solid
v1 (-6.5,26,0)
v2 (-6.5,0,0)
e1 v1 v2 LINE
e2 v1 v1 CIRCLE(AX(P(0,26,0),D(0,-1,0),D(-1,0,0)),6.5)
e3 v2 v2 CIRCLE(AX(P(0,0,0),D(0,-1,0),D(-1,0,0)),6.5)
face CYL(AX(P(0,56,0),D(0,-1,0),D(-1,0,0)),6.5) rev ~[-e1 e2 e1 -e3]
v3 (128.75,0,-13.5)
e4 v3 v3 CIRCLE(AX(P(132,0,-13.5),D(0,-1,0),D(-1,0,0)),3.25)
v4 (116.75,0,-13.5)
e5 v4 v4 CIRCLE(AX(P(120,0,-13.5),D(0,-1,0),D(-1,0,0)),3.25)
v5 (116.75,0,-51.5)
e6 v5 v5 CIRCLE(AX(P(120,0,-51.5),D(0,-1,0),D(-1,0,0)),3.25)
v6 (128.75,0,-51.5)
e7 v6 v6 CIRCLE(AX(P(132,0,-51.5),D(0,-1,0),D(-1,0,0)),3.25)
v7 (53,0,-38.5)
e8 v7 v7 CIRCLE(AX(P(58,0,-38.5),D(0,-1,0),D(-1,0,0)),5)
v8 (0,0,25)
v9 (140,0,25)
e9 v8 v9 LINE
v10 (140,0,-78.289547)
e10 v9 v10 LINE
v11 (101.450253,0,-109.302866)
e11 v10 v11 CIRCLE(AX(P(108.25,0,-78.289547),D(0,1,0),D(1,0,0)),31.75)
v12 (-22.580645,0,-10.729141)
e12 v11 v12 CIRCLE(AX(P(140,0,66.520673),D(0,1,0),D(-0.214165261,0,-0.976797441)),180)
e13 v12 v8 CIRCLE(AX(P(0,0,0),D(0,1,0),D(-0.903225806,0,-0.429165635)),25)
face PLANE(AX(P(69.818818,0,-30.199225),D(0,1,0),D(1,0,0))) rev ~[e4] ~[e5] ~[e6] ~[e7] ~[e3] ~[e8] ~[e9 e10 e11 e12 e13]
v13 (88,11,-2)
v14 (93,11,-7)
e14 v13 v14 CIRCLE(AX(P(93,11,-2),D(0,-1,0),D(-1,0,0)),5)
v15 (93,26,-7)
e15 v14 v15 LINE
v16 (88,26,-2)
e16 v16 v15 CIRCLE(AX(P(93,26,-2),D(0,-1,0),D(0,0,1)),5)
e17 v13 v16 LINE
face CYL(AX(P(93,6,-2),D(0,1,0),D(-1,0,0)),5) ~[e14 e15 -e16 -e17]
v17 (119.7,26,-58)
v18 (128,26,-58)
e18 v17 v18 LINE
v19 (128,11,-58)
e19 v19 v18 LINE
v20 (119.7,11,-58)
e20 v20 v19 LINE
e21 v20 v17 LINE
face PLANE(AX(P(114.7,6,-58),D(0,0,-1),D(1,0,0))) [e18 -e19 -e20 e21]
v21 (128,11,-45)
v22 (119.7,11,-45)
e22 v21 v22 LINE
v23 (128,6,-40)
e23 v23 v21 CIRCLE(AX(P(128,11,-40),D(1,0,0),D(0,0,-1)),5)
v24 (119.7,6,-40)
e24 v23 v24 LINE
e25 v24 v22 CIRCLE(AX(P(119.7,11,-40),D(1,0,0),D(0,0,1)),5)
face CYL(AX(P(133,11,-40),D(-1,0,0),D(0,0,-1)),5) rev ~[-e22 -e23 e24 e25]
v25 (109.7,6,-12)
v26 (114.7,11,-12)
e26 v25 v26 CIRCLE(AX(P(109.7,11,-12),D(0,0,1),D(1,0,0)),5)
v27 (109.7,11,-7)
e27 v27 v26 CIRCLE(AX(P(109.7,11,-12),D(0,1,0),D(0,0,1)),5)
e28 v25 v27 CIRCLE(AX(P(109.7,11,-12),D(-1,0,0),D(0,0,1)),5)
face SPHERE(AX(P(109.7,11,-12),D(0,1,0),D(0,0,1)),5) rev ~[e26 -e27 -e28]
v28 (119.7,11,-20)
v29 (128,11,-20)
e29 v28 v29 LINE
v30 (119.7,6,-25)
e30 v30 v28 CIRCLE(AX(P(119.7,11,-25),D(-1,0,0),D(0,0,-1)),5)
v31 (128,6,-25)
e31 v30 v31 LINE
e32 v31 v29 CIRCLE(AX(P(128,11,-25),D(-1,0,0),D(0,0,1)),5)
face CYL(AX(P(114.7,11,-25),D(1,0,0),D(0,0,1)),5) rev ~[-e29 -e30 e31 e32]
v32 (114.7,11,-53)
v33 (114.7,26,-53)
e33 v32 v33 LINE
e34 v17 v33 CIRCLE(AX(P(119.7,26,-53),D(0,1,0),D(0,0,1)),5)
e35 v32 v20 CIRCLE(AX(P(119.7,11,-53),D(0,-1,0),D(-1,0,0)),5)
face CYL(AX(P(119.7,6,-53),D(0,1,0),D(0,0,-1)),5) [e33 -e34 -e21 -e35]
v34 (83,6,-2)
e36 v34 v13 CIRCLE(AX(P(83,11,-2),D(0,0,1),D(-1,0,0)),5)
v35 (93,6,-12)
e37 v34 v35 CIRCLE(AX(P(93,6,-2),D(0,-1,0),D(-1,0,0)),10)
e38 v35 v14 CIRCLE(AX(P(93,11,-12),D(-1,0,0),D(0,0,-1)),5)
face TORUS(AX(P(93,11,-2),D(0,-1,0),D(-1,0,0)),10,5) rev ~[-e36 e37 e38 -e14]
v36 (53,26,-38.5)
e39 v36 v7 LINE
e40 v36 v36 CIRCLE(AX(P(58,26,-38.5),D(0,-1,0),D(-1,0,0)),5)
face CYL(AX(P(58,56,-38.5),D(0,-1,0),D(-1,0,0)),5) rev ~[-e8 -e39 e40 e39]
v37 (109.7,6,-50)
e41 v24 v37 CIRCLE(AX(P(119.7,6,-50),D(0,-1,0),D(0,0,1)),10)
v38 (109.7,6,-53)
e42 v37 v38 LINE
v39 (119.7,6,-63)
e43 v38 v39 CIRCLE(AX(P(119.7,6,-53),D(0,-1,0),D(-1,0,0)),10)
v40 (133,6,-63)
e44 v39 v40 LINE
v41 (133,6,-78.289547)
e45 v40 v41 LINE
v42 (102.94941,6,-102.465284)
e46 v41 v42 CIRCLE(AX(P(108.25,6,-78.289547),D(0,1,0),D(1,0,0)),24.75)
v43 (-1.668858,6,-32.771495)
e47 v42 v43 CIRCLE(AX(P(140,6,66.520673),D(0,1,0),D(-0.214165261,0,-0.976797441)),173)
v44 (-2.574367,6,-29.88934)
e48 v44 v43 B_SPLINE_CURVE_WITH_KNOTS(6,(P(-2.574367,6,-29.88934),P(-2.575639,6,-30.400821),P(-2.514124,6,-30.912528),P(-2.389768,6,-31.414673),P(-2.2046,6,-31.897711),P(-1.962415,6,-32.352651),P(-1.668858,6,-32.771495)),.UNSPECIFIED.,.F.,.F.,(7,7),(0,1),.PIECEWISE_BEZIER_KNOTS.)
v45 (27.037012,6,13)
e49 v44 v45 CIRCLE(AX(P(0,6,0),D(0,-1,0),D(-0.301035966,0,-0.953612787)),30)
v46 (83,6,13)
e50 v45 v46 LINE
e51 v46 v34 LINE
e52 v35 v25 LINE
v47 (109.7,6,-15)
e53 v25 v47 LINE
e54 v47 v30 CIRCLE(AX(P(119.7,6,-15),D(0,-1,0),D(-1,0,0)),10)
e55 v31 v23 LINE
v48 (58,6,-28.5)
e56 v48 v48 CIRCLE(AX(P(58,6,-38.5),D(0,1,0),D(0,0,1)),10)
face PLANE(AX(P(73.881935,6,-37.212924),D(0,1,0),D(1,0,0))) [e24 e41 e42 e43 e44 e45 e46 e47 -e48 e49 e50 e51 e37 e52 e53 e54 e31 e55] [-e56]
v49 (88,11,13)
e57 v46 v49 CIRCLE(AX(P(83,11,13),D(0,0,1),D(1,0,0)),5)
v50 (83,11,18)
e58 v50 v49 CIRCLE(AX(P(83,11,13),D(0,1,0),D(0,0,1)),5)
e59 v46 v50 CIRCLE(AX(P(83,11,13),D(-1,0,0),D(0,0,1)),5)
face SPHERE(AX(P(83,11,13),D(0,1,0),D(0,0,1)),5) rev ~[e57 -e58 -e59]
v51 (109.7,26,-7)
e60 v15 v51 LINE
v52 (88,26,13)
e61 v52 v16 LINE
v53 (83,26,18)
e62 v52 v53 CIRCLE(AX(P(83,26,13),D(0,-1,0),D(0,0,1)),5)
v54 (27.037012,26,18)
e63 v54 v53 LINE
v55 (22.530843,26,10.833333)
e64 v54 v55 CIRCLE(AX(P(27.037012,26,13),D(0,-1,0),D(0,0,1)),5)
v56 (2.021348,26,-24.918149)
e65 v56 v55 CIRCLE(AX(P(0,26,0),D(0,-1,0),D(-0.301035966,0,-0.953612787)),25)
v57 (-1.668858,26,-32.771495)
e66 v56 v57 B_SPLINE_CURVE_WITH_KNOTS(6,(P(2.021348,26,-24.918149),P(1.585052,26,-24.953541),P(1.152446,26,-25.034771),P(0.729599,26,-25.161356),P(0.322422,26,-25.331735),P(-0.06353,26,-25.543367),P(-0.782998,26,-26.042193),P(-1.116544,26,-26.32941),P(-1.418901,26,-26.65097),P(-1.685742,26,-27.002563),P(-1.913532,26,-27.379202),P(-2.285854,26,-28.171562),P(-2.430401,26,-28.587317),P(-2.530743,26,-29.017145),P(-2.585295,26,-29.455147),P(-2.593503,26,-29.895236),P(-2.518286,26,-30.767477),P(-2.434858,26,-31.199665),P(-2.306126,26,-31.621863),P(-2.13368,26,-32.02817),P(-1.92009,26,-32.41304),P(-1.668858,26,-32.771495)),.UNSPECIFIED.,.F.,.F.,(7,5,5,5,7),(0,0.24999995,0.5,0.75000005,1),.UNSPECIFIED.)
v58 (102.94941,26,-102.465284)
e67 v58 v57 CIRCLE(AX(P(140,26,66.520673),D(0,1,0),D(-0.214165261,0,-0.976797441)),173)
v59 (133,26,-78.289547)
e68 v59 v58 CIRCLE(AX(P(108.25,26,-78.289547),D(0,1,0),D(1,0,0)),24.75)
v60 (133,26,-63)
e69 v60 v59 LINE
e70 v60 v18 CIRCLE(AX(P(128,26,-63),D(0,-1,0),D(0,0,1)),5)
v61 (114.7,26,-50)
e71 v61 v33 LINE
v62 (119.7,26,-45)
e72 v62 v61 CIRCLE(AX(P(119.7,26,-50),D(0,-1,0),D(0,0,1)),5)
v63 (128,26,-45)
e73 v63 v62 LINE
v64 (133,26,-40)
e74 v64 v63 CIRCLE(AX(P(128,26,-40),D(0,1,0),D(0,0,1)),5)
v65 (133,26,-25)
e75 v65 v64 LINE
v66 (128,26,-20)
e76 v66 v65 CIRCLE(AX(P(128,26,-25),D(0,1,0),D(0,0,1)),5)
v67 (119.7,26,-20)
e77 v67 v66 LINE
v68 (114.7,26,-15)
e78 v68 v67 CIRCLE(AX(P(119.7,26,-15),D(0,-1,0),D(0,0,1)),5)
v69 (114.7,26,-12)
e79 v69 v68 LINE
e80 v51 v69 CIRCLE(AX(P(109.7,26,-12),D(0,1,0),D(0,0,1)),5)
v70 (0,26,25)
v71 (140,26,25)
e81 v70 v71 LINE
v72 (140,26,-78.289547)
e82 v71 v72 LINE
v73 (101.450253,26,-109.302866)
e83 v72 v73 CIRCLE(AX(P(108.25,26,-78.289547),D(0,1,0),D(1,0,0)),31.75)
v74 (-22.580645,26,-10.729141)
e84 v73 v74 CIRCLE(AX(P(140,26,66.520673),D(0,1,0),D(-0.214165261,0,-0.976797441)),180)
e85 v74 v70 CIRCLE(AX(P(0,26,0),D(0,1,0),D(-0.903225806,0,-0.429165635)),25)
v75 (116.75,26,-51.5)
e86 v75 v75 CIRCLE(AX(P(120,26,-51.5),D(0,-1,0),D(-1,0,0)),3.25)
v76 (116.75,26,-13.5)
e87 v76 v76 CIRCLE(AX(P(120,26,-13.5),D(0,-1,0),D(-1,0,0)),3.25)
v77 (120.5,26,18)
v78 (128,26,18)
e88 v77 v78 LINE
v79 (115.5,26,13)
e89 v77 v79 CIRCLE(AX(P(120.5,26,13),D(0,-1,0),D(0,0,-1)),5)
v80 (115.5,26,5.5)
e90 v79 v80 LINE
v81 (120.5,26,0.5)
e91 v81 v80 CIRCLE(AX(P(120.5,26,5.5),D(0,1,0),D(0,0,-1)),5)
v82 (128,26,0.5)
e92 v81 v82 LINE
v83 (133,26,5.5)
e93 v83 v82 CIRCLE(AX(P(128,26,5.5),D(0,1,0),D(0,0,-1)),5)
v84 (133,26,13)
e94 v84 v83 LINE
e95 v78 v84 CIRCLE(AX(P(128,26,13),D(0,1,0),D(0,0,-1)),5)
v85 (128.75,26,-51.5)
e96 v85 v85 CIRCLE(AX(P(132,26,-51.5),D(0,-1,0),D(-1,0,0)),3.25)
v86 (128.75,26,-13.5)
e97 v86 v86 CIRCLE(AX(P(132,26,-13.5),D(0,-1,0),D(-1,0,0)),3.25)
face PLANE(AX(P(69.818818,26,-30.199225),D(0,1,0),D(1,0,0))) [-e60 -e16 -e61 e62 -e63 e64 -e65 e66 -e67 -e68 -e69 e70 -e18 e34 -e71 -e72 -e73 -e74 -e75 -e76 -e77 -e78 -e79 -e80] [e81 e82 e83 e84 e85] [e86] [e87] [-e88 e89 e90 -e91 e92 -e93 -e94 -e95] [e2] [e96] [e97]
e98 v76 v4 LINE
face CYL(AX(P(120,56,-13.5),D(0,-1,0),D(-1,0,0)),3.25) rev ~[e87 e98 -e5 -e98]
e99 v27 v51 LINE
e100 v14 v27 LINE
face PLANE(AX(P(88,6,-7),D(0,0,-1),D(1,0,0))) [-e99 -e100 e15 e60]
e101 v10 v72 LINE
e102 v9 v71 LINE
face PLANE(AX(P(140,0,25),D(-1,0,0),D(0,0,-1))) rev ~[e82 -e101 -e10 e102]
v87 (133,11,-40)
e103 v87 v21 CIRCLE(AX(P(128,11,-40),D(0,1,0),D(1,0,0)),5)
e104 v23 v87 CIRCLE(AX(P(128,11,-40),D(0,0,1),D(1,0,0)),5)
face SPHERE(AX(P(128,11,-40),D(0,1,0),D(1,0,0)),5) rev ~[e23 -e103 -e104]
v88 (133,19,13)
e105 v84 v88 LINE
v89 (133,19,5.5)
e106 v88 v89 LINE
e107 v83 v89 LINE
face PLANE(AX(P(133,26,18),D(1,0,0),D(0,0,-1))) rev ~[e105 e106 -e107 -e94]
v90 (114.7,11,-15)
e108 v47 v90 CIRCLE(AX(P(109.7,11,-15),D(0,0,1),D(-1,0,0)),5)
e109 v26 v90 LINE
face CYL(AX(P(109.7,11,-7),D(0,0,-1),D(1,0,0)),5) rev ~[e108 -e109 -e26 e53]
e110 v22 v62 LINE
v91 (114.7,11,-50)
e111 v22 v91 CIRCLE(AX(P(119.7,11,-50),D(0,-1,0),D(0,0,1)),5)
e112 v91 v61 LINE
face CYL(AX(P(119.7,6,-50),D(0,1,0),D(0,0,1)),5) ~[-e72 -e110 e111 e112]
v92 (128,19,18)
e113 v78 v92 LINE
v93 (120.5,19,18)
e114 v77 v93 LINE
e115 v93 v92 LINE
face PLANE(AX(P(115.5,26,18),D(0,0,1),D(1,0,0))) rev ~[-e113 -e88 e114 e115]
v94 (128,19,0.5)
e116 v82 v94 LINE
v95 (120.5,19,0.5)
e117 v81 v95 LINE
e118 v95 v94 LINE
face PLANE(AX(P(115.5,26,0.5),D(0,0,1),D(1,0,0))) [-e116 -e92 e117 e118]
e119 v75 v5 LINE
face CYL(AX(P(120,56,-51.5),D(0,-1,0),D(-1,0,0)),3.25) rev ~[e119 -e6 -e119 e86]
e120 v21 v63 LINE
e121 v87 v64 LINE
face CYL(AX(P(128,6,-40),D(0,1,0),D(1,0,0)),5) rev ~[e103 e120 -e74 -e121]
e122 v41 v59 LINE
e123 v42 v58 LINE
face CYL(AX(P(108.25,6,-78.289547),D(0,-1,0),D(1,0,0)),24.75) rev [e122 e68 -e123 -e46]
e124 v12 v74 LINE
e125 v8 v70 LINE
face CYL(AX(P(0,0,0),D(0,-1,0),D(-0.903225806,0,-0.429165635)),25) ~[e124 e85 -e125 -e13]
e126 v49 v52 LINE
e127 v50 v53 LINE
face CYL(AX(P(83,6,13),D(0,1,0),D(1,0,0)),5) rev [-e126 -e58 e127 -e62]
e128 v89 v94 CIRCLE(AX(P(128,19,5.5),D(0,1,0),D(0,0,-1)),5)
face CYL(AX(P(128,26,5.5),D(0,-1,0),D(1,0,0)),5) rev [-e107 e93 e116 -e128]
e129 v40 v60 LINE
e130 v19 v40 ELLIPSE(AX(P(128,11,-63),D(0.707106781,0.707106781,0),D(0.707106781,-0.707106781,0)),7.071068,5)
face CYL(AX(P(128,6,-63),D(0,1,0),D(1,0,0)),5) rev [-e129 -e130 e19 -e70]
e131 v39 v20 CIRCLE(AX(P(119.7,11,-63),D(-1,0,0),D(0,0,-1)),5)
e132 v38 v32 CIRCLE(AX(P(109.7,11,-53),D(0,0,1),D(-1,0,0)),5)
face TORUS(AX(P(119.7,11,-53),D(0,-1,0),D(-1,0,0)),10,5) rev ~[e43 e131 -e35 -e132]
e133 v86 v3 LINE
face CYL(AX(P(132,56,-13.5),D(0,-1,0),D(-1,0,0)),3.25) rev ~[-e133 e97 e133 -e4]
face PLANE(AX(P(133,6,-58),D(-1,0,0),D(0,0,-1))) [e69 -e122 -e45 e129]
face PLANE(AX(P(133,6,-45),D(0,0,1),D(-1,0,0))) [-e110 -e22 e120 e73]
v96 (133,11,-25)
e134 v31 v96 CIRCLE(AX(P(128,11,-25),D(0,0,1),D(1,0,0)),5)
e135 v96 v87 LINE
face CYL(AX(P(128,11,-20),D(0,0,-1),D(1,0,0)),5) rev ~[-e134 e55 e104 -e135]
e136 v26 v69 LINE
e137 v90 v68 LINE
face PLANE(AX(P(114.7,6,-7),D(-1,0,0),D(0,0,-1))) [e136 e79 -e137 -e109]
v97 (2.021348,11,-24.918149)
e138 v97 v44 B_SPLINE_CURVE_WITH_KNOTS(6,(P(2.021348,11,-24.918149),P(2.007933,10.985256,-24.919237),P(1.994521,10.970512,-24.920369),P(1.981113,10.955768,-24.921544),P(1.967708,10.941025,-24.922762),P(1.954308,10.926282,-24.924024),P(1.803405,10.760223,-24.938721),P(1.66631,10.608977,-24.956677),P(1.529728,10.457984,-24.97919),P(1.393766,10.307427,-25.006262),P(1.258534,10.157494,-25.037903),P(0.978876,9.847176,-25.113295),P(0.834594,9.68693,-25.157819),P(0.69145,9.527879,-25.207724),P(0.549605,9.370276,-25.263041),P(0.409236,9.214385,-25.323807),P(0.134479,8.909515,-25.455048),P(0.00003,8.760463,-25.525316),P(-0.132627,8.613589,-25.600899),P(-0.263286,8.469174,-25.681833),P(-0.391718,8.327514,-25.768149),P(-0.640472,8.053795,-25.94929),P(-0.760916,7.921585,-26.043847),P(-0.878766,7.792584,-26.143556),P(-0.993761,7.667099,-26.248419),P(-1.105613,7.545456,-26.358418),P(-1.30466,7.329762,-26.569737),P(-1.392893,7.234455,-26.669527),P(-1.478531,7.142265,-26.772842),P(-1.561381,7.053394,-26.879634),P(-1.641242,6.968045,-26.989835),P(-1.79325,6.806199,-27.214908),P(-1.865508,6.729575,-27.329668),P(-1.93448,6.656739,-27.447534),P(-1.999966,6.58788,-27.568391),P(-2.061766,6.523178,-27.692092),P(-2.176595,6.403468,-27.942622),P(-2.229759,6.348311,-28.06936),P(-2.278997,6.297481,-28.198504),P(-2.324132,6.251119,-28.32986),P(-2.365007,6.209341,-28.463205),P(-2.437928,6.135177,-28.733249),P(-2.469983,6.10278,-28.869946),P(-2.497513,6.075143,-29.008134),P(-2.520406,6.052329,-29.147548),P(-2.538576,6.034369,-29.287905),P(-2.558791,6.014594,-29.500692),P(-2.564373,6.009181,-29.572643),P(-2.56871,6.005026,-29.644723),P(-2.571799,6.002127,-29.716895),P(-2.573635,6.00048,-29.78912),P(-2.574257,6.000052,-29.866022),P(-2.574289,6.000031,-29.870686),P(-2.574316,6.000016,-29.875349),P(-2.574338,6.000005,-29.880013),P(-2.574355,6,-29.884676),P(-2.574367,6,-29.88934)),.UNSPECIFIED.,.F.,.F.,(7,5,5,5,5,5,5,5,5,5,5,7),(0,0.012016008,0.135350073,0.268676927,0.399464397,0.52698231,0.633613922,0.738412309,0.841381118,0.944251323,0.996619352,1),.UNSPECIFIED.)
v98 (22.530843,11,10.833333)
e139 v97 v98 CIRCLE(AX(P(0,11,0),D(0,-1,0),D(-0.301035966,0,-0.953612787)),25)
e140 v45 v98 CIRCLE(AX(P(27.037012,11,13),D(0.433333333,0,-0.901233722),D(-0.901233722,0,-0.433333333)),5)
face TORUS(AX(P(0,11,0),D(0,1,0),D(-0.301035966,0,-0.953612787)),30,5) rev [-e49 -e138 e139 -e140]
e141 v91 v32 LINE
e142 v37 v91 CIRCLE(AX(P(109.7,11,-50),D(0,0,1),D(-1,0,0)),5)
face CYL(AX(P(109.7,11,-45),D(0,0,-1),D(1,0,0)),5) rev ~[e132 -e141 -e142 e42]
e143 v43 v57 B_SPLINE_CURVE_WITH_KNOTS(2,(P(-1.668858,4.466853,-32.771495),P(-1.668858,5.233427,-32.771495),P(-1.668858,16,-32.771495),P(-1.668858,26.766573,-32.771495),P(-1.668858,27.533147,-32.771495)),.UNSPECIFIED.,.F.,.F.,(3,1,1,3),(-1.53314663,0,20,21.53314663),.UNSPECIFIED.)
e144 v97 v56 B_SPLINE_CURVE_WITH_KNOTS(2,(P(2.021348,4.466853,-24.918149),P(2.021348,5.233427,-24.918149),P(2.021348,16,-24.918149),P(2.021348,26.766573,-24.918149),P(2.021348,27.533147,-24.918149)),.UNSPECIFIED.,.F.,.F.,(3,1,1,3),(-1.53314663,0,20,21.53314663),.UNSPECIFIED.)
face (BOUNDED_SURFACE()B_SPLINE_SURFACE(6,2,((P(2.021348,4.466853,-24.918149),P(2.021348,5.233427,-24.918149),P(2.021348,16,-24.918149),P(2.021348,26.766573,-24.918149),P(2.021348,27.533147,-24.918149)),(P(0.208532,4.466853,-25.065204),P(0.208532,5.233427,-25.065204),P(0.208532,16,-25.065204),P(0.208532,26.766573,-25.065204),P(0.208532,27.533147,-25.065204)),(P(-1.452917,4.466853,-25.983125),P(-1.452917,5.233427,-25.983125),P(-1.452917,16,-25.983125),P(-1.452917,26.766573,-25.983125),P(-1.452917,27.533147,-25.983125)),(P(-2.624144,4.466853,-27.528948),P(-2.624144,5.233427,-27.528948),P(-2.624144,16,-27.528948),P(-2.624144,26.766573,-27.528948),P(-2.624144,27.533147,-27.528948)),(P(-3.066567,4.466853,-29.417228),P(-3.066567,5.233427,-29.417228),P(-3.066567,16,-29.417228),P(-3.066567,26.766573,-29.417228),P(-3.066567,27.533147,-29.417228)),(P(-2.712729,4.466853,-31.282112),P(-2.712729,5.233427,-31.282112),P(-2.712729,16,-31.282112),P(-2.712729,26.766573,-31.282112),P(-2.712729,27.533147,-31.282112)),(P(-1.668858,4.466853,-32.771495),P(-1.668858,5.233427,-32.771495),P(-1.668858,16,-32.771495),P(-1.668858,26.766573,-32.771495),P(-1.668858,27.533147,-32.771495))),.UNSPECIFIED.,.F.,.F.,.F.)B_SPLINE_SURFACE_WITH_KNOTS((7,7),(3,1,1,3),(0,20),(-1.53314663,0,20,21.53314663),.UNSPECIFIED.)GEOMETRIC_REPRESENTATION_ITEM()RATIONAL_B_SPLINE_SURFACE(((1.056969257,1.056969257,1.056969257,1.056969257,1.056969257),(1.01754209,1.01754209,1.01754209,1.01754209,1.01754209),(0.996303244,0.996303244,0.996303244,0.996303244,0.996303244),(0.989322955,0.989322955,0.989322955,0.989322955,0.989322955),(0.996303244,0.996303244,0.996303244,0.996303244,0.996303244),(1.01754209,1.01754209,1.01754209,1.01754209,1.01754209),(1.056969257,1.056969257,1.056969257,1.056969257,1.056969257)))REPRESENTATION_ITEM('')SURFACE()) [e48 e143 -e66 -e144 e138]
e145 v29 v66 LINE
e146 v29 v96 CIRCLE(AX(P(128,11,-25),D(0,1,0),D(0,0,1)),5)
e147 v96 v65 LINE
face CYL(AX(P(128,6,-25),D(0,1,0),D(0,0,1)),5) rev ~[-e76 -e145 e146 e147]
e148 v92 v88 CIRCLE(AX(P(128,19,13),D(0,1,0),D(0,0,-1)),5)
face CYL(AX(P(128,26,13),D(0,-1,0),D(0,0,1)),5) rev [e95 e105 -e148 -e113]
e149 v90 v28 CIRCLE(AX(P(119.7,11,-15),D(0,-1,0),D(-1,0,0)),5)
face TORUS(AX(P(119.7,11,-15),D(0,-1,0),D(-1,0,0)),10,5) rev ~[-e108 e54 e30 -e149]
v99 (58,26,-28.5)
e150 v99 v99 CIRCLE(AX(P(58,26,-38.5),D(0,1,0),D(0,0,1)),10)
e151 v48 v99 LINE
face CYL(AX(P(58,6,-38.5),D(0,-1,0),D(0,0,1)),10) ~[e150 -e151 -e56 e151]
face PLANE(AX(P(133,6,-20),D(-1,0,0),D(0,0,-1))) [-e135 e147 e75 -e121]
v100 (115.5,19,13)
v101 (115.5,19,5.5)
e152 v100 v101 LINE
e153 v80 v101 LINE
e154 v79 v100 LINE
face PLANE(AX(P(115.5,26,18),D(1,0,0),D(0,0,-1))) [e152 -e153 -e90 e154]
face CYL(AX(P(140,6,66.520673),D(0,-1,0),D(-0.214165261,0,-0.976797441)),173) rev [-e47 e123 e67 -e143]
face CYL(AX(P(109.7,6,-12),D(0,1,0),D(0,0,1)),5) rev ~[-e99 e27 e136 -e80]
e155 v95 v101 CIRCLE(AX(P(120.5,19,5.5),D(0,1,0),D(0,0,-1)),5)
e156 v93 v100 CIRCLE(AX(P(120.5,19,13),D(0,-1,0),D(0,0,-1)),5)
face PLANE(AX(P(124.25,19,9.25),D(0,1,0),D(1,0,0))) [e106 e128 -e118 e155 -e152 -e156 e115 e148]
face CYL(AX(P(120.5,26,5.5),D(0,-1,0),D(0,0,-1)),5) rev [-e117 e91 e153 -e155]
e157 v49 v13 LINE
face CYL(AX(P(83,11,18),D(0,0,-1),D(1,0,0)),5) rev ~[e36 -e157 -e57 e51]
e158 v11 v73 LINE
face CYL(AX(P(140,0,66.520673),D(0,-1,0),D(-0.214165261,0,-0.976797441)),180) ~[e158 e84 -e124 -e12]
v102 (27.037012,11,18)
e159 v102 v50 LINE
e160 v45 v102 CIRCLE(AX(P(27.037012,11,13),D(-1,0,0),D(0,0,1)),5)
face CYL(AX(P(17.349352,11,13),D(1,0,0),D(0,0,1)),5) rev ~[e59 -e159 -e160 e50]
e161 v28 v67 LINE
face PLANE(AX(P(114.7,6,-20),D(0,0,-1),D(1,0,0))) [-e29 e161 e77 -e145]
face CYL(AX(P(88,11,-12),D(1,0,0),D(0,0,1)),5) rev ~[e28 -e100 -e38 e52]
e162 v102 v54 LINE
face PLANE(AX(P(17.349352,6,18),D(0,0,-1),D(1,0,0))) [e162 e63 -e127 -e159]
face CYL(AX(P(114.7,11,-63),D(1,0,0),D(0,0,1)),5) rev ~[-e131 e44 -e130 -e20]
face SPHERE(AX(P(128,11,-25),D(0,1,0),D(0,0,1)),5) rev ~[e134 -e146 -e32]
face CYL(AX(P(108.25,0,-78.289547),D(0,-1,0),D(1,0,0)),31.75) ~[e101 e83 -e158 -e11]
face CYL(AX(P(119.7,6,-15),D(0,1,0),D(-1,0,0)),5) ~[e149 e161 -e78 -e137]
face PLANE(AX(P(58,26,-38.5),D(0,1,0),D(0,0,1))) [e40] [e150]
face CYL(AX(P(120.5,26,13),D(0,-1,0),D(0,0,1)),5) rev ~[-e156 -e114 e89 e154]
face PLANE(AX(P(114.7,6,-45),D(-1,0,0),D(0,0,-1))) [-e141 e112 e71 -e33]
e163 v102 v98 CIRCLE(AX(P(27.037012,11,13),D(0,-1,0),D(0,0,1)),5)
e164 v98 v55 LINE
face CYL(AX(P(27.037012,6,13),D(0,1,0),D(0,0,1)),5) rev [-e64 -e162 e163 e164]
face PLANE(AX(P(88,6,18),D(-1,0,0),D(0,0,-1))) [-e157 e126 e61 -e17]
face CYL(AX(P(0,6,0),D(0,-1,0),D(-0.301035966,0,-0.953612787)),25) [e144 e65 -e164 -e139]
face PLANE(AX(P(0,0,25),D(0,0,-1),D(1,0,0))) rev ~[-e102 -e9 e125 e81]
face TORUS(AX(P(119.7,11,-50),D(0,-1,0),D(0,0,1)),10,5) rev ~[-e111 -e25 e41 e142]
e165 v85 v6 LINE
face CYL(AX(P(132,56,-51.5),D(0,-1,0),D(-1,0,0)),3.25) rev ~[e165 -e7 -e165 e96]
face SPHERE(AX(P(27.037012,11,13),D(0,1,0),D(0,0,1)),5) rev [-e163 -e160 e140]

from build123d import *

# Parameters (mm, degrees)
BOSS_EXTRUDE1_DEPTH = 26
CUT_EXTRUDE1_START  = -20
CUT_EXTRUDE1_DEPTH  = 20
SKETCH3_W           = 17.5
SKETCH3_H           = 17.5
CUT_EXTRUDE2_DEPTH  = 7
FILLET1_R           = 5
HOLE1_D             = 13
HOLE1_DEPTH         = 30
HOLE2_D             = 6.5
HOLE2_DEPTH         = 30
SKETCH8_R           = 10
BOSS_EXTRUDE2_DEPTH = 20
HOLE3_D             = 10
HOLE3_DEPTH         = 30


with BuildPart() as part:
    # Sketch1 → Boss-Extrude1 (new body)
    with BuildSketch(Plane(origin=(0, 0, 0), x_dir=(1, 0, 0), z_dir=(0, 1, 0))):
        with BuildLine():
            Line((0, -25), (140, -25))
            Line((140, -25), (140, 78.289547156))
            ThreePointArc((140, 78.289547156), (128.151891006, 103.027720783), (101.450252951, 109.302865908))
            ThreePointArc((101.450252951, 109.302865908), (28.006457847, 74.395778776), (-22.580645161, 10.729140884))
            ThreePointArc((-22.580645161, 10.729140884), (-21.13325013, -13.356112419), (0, -25))
        make_face()
    extrude(amount=BOSS_EXTRUDE1_DEPTH)

    # Sketch2 → Cut-Extrude1 (cut)
    with BuildSketch(Plane(origin=(0, 26, 0), x_dir=(1, 0, 0), z_dir=(0, 1, 0)).offset(CUT_EXTRUDE1_START)):
        with BuildLine():
            Line((88, -18), (88, 7))
            Line((88, 7), (114.7, 7))
            Line((114.7, 7), (114.7, 20))
            Line((114.7, 20), (133, 20))
            Line((133, 20), (133, 45))
            Line((133, 45), (114.7, 45))
            Line((114.7, 45), (114.7, 58))
            Line((114.7, 58), (133, 58))
            Line((133, 58), (133, 78.289547156))
            ThreePointArc((133, 78.289547156), (123.764072516, 97.573635258), (102.949409781, 102.465283821))
            ThreePointArc((102.949409781, 102.465283821), (39.68753142, 74.427574639), (-7.525899138, 23.840319674))
            ThreePointArc((-7.525899138, 23.840319674), (21.489023757, 12.775831009), (17.349351573, -18))
            Line((17.349351573, -18), (88, -18))
        make_face()
    extrude(amount=CUT_EXTRUDE1_DEPTH, mode=Mode.SUBTRACT)

    # Sketch3 → Cut-Extrude2 (cut)
    with BuildSketch(Plane(origin=(0, 26, 0), x_dir=(1, 0, 0), z_dir=(0, 1, 0))):
        with Locations((124.25, -9.25)):
            Rectangle(SKETCH3_W, SKETCH3_H)
    extrude(amount=-CUT_EXTRUDE2_DEPTH, mode=Mode.SUBTRACT)

    # Fillet1
    fillet1_edges = [part.edges().sort_by_distance(p)[0] for p in [
        (123.85, 6, -58),
        (115.5, 22.5, 18),
        (115.5, 22.5, 0.5),
        (133, 22.5, 0.5),
        (133, 22.5, 18),
        (88, 16, 18),
        (133, 16, -45),
        (133, 16, -20),
        (114.7, 16, -20),
        (114.7, 16, -7),
        (88, 16, -7),
        (114.7, 16, -58),
        (133, 16, -58),
        (114.7, 16, -45),
        (-7.525899138, 16, -23.840319674),
        (17.349351573, 16, 18),
        (52.674675786, 6, 18),
        (88, 6, 5.5),
        (101.35, 6, -7),
        (114.7, 6, -13.5),
        (123.85, 6, -20),
        (133, 6, -32.5),
        (123.85, 6, -45),
        (114.7, 6, -51.5),
        (21.489023757, 6, -12.775831009),
    ]]
    fillet(fillet1_edges, radius=FILLET1_R)

    # Hole1
    with Locations(Plane(origin=(0, 26, 0), x_dir=(1, 0, 0), z_dir=(0, 1, 0))):
        with Locations((0, 0)):
            Hole(HOLE1_D / 2, depth=HOLE1_DEPTH)

    # Hole2
    with Locations(Plane(origin=(0, 26, 0), x_dir=(1, 0, 0), z_dir=(0, 1, 0))):
        with Locations((120, 51.5), (132, 51.5), (120, 13.5), (132, 13.5)):
            Hole(HOLE2_D / 2, depth=HOLE2_DEPTH)

    # Sketch8 → Boss-Extrude2 (add)
    with BuildSketch(Plane(origin=(0, 6, 0), x_dir=(1, 0, 0), z_dir=(0, 1, 0))):
        with Locations(Location((58, 38.5, 0), (0, 0, 270))):
            Circle(SKETCH8_R)
    extrude(amount=BOSS_EXTRUDE2_DEPTH)

    # Hole3
    with Locations(Plane(origin=(0, 26, 0), x_dir=(1, 0, 0), z_dir=(0, 1, 0))):
        with Locations((58, 38.5)):
            Hole(HOLE3_D / 2, depth=HOLE3_DEPTH)


solid = part.part
